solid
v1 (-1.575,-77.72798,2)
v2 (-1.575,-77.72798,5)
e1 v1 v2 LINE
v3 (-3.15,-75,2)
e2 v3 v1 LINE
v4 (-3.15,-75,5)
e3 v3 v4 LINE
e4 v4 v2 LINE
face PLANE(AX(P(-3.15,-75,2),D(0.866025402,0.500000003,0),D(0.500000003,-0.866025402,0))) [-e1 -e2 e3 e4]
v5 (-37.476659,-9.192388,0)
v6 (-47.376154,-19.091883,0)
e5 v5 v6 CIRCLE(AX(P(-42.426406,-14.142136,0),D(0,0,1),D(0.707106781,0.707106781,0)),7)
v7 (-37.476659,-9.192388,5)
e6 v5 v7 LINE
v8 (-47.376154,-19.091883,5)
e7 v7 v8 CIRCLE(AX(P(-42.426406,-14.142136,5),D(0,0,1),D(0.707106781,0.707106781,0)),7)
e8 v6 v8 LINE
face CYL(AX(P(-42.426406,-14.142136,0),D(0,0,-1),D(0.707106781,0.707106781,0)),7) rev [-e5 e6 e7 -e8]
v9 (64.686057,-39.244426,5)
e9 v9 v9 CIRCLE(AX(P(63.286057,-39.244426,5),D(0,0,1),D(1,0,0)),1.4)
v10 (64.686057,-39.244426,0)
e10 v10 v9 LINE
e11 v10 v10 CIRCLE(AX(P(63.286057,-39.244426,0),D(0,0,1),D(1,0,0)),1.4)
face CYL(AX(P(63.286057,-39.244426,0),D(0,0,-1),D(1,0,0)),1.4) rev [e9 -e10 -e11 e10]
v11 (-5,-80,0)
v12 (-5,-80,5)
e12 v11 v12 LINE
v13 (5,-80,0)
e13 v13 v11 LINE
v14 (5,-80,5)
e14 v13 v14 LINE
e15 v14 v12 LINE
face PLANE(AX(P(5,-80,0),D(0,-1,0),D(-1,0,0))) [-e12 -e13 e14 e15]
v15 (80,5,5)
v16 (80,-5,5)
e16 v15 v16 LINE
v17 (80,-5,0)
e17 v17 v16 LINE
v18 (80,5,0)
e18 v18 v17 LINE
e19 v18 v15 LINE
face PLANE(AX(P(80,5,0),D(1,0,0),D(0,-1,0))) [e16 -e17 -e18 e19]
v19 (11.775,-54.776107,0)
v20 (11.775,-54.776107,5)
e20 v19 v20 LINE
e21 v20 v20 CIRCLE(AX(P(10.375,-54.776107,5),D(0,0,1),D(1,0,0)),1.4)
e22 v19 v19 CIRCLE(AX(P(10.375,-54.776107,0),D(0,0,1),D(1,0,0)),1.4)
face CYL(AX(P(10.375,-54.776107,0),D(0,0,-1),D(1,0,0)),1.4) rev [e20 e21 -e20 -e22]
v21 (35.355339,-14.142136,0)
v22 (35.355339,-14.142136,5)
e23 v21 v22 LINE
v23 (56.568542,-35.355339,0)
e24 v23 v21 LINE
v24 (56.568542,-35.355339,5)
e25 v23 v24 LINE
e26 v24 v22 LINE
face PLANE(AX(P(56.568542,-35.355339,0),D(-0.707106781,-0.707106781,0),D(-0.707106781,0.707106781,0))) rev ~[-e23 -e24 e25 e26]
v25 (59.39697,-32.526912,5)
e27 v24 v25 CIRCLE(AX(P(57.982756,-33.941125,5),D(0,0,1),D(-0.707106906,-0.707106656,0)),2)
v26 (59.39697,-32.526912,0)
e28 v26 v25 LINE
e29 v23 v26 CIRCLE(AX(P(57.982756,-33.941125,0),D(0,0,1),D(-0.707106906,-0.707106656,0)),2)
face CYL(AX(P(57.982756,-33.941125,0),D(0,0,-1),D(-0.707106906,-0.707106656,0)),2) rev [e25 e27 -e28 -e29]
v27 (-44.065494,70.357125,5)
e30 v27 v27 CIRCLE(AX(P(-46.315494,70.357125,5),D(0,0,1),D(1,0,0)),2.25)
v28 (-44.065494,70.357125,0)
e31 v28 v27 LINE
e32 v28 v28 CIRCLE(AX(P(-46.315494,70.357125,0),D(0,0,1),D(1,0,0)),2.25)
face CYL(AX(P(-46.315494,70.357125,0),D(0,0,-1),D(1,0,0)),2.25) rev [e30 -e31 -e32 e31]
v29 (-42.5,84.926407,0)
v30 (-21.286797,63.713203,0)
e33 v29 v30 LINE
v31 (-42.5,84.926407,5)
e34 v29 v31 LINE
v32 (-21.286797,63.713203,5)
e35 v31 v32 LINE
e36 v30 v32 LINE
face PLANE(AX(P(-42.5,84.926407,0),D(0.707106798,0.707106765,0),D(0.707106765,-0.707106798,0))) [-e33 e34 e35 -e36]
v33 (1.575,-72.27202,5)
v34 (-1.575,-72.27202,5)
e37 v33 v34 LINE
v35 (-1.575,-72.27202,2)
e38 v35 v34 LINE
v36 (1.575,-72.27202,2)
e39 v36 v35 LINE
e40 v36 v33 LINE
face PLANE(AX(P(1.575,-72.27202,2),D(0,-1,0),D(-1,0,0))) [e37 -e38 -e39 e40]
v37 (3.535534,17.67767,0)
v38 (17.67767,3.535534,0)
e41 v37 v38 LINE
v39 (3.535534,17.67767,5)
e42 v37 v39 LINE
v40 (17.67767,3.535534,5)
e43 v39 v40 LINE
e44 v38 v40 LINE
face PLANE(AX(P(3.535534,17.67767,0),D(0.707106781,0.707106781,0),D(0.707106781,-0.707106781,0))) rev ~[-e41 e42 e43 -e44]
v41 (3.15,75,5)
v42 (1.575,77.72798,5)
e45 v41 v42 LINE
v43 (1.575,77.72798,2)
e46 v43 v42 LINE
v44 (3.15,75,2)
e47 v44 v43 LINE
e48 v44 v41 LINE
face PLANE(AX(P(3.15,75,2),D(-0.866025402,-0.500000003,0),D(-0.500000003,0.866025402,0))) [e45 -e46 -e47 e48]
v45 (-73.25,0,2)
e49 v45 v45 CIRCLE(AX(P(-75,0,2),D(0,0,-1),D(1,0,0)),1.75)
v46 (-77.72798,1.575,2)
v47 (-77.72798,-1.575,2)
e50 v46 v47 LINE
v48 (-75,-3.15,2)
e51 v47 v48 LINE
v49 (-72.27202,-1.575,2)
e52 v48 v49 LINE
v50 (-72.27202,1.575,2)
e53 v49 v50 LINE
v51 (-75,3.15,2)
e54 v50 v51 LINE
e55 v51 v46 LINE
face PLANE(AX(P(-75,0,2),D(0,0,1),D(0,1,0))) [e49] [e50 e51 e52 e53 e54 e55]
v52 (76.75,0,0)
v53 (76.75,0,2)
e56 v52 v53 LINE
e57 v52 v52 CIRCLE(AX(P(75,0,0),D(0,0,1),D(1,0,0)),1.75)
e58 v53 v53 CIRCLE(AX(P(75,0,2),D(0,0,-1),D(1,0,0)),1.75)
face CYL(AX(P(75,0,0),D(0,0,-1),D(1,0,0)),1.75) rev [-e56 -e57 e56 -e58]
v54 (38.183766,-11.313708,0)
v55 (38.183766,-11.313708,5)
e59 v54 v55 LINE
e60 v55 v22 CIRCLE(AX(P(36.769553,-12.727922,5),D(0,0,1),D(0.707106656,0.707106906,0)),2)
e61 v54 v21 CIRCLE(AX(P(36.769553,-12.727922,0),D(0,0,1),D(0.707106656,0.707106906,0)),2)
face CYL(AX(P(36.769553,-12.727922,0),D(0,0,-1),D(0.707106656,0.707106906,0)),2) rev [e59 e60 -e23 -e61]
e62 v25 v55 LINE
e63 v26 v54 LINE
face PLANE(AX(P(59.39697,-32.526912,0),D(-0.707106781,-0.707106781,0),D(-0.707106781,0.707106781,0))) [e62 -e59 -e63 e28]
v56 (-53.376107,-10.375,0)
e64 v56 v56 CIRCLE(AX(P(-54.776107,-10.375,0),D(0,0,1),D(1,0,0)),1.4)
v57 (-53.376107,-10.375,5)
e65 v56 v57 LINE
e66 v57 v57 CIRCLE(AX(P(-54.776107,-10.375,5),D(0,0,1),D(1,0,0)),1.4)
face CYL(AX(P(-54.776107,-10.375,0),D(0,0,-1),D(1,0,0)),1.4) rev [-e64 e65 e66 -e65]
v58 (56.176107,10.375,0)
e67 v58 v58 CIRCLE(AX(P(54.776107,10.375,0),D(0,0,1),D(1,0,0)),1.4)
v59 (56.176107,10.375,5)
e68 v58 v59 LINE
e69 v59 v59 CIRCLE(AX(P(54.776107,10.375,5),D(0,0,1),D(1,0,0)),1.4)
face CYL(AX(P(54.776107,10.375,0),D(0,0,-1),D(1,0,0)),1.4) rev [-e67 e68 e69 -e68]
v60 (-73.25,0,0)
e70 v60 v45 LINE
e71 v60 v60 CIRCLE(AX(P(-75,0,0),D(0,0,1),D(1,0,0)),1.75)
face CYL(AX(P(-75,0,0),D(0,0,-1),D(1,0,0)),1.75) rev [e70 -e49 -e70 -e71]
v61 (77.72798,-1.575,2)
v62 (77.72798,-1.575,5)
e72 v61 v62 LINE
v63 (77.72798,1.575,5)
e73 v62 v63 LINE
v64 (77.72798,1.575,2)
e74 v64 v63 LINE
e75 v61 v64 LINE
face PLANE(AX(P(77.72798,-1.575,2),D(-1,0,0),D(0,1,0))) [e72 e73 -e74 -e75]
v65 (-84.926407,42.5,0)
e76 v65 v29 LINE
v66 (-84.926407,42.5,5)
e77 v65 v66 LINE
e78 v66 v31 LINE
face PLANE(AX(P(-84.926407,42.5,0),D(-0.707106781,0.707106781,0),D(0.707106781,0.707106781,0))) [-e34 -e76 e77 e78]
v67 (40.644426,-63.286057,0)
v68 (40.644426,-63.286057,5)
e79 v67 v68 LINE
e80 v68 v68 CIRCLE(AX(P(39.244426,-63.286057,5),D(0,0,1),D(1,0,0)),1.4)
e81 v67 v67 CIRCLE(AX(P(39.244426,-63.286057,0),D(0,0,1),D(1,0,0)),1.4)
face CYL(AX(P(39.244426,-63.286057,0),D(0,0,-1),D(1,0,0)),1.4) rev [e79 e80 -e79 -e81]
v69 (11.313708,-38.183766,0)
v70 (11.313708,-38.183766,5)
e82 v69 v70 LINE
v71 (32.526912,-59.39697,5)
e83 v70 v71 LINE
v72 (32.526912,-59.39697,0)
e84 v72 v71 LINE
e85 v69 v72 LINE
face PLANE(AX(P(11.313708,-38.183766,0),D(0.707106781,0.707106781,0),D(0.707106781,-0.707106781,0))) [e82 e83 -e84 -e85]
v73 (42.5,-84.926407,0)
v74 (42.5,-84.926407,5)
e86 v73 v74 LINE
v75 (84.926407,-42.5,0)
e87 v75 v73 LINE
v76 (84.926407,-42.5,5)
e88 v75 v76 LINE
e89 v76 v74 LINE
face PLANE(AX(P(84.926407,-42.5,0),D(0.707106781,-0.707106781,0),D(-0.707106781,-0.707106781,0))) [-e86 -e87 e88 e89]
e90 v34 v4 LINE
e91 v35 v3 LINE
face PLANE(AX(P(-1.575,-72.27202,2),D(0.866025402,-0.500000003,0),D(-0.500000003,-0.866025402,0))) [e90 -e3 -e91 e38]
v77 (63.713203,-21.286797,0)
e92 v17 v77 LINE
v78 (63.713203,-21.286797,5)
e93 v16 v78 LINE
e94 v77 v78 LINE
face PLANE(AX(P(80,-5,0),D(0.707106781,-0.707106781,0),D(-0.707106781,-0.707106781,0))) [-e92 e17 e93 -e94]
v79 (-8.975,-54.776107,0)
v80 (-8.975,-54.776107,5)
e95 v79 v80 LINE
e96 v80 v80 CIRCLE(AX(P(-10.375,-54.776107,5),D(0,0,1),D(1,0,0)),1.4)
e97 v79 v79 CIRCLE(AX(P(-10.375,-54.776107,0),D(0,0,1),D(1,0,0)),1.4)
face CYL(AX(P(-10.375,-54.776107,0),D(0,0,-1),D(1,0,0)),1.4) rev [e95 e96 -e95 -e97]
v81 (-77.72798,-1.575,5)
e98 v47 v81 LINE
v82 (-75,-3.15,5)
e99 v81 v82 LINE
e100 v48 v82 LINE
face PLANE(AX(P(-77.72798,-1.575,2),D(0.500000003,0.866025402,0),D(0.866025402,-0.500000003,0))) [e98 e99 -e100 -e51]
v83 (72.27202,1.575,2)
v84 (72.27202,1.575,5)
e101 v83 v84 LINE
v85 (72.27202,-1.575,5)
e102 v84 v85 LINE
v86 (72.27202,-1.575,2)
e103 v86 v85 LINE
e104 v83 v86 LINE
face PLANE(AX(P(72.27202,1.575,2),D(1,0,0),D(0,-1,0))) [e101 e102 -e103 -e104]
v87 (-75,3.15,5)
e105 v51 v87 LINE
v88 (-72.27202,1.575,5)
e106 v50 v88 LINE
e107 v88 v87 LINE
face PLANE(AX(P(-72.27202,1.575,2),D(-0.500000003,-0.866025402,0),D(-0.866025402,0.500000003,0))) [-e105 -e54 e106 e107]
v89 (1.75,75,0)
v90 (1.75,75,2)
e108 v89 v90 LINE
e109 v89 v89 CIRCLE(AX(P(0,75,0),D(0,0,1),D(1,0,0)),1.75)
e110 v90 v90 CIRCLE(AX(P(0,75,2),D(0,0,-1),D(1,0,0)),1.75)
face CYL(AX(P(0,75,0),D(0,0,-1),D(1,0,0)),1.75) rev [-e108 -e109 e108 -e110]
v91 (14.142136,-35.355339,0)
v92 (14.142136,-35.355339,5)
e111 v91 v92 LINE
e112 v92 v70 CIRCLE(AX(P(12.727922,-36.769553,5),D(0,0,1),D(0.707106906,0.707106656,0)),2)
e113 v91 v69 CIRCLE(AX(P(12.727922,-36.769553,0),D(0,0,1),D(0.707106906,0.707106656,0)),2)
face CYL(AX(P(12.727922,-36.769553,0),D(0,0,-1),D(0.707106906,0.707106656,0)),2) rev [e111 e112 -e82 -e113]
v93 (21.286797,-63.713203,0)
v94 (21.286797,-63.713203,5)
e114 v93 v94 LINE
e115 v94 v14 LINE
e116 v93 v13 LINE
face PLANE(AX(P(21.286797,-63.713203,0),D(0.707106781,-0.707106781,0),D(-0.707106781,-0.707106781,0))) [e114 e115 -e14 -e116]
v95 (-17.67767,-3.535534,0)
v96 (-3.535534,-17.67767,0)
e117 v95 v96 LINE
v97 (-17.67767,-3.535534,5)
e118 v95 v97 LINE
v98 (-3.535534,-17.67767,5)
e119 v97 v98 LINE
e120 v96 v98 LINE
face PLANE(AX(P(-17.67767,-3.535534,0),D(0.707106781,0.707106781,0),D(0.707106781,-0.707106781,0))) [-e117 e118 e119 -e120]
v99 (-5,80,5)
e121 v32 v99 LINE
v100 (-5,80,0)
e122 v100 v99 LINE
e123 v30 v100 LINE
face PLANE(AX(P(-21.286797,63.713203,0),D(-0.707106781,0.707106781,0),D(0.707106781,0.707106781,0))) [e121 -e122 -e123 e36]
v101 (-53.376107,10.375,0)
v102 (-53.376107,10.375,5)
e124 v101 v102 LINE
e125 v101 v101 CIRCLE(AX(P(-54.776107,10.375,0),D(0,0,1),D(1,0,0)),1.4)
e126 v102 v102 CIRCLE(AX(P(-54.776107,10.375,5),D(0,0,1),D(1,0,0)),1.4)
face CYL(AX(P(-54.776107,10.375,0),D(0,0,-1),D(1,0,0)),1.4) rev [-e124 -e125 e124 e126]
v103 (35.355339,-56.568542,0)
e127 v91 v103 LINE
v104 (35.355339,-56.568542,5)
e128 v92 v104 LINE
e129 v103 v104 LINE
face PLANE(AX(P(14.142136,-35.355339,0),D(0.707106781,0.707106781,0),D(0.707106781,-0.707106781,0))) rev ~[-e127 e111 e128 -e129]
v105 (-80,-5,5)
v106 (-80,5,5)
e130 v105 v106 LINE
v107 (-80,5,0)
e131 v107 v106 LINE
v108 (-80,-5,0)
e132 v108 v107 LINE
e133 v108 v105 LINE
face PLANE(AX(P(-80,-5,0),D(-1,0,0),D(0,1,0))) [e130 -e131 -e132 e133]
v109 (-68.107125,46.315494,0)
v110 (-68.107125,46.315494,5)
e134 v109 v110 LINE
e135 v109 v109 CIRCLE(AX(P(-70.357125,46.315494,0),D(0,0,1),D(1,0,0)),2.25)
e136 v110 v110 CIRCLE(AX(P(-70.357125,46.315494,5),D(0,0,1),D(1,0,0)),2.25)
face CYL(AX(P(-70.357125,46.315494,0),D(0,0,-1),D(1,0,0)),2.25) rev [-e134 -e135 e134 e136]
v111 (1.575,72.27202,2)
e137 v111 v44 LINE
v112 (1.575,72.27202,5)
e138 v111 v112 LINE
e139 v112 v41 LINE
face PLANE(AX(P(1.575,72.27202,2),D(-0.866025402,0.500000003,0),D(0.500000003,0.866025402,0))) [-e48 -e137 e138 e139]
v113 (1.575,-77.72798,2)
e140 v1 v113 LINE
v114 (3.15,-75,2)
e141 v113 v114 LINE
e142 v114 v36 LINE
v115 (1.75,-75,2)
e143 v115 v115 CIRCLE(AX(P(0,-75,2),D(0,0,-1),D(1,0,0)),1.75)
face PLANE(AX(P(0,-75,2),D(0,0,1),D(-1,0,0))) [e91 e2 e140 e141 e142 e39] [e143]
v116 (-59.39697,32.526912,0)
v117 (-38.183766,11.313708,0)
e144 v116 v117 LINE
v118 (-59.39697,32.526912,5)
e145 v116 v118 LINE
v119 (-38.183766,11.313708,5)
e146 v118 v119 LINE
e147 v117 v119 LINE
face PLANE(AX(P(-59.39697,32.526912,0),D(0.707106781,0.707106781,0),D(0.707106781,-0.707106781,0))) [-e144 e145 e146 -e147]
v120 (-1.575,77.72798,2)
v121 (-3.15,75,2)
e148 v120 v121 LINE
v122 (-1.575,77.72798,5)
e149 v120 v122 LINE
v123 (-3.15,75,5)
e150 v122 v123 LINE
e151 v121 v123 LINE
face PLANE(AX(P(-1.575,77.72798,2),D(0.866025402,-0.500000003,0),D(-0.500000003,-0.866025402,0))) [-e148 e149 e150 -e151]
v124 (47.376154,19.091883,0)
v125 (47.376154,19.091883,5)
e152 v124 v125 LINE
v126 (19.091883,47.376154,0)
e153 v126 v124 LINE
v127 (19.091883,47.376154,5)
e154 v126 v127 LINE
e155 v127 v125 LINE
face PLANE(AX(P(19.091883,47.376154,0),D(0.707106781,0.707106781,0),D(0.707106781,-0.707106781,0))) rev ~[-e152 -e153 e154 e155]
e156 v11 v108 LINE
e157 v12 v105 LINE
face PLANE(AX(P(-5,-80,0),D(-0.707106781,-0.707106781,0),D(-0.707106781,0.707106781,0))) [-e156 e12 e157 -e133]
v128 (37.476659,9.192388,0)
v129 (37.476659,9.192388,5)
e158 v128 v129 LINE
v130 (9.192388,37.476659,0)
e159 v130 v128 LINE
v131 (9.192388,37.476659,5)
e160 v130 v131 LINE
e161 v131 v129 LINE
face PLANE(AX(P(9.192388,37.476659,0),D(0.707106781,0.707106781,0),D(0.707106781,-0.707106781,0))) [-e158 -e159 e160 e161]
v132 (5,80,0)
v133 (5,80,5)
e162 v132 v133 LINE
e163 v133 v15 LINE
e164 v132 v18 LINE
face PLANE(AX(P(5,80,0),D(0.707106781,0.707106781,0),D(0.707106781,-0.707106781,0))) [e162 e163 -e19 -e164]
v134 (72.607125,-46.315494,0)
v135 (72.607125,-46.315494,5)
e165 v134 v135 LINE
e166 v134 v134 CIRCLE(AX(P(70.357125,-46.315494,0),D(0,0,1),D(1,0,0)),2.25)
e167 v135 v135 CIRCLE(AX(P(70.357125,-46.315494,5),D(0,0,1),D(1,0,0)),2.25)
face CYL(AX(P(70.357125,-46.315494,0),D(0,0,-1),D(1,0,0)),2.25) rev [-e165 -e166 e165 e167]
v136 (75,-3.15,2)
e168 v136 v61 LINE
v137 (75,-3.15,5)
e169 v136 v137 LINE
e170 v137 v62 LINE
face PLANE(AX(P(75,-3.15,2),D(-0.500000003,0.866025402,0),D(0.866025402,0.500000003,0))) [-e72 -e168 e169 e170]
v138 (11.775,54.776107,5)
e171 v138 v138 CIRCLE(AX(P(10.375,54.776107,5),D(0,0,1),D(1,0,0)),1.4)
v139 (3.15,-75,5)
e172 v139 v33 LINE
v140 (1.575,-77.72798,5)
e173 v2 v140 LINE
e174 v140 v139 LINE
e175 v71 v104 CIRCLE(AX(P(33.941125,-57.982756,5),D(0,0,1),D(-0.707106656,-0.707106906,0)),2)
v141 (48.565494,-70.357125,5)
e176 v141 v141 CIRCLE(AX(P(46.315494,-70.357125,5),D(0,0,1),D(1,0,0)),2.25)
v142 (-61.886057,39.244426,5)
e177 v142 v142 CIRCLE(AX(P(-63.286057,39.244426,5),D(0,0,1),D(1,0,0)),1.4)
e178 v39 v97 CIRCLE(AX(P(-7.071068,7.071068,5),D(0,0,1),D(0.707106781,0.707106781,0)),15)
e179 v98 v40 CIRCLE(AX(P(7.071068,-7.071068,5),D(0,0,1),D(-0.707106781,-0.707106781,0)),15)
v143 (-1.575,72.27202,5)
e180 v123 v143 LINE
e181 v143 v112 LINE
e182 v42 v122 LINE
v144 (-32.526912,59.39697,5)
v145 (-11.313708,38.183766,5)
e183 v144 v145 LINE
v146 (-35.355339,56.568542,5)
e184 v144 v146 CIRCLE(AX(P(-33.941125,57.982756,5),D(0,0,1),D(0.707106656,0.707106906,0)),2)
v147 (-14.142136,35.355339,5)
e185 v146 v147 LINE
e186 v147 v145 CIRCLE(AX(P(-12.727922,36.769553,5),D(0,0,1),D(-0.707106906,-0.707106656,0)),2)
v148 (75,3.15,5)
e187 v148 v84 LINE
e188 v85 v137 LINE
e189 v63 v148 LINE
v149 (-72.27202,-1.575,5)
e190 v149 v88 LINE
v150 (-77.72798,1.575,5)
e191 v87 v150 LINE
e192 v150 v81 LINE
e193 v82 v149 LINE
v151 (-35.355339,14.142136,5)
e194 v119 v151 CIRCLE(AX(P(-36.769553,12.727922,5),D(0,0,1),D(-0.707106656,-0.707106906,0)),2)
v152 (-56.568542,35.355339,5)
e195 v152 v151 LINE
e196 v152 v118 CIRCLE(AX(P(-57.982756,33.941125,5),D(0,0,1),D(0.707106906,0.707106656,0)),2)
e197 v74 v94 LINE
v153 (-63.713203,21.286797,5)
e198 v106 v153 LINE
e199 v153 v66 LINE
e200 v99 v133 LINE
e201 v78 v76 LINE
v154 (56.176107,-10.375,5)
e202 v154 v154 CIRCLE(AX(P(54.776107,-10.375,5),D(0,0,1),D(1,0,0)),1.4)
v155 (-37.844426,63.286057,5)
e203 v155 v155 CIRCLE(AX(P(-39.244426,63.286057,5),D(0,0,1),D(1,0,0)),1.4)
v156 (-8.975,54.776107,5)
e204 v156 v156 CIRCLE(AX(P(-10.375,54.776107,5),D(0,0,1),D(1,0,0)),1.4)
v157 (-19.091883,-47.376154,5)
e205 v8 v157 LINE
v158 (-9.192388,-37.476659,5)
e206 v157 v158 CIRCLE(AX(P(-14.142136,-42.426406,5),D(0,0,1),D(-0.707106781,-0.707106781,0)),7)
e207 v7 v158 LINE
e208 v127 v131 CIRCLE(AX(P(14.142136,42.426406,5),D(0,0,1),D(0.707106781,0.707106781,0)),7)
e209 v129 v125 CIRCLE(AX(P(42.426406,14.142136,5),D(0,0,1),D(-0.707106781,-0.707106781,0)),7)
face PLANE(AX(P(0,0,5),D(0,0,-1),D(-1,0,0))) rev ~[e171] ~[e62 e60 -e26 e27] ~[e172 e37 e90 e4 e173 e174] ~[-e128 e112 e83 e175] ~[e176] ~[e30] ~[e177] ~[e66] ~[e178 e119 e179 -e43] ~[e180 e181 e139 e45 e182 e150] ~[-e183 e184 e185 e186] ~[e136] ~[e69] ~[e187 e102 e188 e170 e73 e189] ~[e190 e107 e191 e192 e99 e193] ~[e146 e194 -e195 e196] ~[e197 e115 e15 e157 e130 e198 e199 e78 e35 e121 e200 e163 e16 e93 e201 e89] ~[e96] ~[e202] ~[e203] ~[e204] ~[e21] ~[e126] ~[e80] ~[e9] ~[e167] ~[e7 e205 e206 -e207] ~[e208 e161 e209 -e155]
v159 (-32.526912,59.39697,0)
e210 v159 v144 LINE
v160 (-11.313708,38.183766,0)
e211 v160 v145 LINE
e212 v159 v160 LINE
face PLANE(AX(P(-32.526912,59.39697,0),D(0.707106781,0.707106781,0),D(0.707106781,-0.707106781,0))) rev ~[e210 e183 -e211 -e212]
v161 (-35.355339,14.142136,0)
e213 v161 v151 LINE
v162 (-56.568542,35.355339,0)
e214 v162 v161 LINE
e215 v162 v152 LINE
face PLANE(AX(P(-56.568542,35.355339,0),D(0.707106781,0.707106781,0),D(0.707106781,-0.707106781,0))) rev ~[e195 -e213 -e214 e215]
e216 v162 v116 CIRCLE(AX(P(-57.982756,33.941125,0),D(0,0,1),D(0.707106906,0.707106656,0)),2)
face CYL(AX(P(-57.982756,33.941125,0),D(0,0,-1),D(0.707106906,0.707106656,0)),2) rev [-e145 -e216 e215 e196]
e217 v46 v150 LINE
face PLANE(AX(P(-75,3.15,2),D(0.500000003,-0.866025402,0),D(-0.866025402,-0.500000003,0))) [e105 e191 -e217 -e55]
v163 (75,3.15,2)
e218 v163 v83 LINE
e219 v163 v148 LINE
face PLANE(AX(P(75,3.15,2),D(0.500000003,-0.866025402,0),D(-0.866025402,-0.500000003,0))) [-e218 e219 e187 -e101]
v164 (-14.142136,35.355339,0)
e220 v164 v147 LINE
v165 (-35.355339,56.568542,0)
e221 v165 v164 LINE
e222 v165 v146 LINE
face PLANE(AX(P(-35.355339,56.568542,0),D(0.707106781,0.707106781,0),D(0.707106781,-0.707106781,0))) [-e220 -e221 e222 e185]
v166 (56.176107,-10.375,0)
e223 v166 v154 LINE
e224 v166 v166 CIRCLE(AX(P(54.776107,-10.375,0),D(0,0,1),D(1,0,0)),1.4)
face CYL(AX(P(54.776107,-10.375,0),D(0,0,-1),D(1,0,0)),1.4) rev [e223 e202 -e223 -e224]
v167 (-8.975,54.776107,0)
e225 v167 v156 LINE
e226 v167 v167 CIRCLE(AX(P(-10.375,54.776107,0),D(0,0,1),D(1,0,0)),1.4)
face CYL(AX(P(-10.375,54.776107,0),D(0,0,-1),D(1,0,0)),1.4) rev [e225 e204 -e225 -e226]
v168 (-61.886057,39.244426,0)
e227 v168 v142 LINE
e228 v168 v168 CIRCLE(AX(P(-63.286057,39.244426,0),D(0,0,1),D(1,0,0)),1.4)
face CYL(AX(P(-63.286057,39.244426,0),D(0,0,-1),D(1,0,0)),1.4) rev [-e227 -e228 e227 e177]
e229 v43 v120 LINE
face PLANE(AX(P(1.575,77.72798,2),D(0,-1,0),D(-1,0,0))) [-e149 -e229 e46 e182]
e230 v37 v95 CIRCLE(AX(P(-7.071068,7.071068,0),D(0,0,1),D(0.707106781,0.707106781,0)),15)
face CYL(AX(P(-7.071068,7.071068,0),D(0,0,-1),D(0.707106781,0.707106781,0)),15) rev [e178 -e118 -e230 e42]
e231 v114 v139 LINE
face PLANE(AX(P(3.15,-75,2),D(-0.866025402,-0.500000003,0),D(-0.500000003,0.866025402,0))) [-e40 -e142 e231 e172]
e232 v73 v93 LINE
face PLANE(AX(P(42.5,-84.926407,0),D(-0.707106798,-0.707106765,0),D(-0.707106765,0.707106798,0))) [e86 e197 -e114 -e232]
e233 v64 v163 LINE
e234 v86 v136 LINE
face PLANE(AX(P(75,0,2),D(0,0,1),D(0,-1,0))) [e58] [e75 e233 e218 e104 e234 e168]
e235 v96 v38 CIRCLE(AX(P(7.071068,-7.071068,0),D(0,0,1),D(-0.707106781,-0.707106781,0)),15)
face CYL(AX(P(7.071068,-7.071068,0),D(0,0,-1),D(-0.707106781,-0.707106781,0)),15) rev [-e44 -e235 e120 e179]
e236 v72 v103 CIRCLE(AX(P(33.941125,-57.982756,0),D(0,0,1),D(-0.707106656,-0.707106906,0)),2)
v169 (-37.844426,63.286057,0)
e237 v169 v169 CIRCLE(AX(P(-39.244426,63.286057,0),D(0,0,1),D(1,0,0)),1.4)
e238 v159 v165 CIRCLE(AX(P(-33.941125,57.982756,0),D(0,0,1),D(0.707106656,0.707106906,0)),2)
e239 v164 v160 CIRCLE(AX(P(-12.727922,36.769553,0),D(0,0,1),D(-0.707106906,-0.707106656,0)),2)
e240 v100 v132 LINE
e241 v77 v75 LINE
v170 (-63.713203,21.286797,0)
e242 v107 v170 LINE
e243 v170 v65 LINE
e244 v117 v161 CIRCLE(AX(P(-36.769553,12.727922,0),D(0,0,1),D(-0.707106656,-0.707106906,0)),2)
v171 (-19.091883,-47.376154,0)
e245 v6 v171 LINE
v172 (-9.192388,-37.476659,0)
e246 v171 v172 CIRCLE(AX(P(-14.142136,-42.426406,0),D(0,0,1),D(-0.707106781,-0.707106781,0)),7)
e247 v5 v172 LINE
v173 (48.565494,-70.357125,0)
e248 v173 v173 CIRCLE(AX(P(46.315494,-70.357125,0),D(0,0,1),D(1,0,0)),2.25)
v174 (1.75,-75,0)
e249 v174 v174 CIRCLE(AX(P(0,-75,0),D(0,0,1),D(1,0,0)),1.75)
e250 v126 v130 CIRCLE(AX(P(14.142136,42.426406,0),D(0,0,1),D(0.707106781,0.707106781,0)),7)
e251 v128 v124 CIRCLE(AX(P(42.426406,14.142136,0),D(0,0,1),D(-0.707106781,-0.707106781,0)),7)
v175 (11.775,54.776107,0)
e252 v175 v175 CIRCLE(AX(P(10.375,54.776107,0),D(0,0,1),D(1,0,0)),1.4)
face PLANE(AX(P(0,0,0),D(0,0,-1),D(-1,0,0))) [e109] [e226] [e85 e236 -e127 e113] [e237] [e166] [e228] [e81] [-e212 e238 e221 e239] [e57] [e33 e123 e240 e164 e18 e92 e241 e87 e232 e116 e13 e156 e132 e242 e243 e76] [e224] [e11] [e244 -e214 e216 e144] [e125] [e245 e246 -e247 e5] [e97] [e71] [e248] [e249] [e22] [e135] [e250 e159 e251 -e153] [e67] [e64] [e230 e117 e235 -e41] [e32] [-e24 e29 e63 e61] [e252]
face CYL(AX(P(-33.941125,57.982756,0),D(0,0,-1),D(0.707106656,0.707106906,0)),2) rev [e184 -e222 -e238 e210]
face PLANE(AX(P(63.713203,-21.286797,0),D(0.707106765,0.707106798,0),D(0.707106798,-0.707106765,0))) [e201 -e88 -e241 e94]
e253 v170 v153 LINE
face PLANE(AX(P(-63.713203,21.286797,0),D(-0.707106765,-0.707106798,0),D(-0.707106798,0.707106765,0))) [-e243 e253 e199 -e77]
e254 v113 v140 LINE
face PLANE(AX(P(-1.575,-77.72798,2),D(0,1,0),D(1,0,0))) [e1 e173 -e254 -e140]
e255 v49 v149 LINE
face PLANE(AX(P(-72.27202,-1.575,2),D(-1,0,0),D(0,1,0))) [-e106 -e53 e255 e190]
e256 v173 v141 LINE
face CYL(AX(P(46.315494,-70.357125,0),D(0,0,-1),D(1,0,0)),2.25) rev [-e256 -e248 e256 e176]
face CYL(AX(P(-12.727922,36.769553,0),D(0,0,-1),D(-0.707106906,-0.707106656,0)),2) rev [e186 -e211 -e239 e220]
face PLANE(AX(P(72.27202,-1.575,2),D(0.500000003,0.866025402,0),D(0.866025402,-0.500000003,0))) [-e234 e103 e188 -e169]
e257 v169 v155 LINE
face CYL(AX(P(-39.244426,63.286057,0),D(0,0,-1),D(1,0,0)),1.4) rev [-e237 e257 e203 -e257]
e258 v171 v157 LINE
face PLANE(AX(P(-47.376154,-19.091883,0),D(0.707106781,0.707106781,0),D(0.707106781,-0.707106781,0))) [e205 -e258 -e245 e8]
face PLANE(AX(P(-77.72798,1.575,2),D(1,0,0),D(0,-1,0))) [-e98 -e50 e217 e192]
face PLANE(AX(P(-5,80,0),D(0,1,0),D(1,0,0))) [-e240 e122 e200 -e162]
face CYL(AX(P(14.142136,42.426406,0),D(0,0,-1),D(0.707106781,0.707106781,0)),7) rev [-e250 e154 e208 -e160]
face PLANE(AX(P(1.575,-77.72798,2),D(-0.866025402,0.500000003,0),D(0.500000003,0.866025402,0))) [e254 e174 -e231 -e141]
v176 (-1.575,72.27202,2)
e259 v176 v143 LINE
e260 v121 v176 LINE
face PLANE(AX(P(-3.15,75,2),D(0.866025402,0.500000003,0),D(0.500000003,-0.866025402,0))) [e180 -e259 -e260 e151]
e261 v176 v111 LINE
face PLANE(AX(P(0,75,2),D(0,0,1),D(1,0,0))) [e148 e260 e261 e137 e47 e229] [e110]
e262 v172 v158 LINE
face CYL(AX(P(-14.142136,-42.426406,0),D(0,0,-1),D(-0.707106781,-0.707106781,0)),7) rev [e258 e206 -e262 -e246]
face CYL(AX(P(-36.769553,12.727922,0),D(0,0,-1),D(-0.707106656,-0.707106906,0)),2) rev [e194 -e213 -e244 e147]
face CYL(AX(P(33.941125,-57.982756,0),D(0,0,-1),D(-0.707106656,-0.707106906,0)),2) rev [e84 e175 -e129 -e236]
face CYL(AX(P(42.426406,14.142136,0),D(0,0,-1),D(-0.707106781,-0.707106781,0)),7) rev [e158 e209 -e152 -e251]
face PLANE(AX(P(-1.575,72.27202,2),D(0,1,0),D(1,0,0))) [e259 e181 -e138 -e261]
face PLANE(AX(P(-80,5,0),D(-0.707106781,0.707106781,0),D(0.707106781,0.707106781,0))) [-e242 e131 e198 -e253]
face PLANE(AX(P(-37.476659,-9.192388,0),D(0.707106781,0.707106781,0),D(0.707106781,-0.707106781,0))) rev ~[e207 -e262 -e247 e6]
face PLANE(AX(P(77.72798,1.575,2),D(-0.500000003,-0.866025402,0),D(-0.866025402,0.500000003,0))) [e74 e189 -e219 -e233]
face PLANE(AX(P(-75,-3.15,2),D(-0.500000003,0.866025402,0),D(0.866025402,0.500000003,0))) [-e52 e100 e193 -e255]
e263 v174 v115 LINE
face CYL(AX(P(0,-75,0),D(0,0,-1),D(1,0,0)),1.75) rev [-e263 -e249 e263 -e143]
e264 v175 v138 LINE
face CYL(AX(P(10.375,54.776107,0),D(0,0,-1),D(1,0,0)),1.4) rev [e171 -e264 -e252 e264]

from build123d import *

# Parameters (mm, degrees)
EXTRUDE002_DEPTH           = 4
EXTRUDE002_PLACEMENT_ANGLE = 180
EXTRUDE003_DEPTH           = 4
EXTRUDE003_PLACEMENT_ANGLE = 90
EXTRUDE004_DEPTH           = 4
EXTRUDE004_PLACEMENT_ANGLE = -90
EXTRUDE001_DEPTH           = 4
SKETCH_R                   = 1.75
SKETCH_R_2                 = 1.4
SKETCH_R_3                 = 2.25
EXTRUDE_DEPTH              = 5


with BuildPart() as extrude002:
    # Sketch001 → Extrude002 (new body)
    with BuildSketch(Plane.XY):
        Polygon((1.575, -7.72798), (3.15, -5), (1.575, -2.27202), (-1.575, -2.27202), (-3.15, -5), (-1.575, -7.72798), align=None)
    extrude(amount=EXTRUDE002_DEPTH)


with BuildPart() as extrude002_1:
    # Extrude002 placement: moved
    add(extrude002.part.moved(Location((0, -80, 2))).rotate(Axis((0, -80, 2), (0, 0, 1)), EXTRUDE002_PLACEMENT_ANGLE))


with BuildPart() as extrude003:
    # Sketch001 → Extrude003 (new body)
    with BuildSketch(Plane.XY):
        Polygon((1.575, -7.72798), (3.15, -5), (1.575, -2.27202), (-1.575, -2.27202), (-3.15, -5), (-1.575, -7.72798), align=None)
    extrude(amount=EXTRUDE003_DEPTH)


with BuildPart() as extrude003_1:
    # Extrude003 placement: moved
    add(extrude003.part.moved(Location((-80, 0, 2))).rotate(Axis((-80, 0, 2), (0, 0, 1)), EXTRUDE003_PLACEMENT_ANGLE))


with BuildPart() as extrude004:
    # Sketch001 → Extrude004 (new body)
    with BuildSketch(Plane.XY):
        Polygon((1.575, -7.72798), (3.15, -5), (1.575, -2.27202), (-1.575, -2.27202), (-3.15, -5), (-1.575, -7.72798), align=None)
    extrude(amount=EXTRUDE004_DEPTH)


with BuildPart() as extrude004_1:
    # Extrude004 placement: moved
    add(extrude004.part.moved(Location((80, 0, 2))).rotate(Axis((80, 0, 2), (0, 0, 1)), EXTRUDE004_PLACEMENT_ANGLE))


with BuildPart() as fusionhexnuts:
    # Sketch001 → Extrude001 (new body)
    with BuildSketch(Plane.XY):
        Polygon((1.575, -7.72798), (3.15, -5), (1.575, -2.27202), (-1.575, -2.27202), (-3.15, -5), (-1.575, -7.72798), align=None)
    extrude(amount=EXTRUDE001_DEPTH)


with BuildPart() as fusionhexnuts_1:
    # Extrude001 placement: moved
    add(fusionhexnuts.part.moved(Location((0, 80, 2))))

    # Fusion: union Extrude002, Extrude003, Extrude004
    add(extrude002_1.part)
    add(extrude003_1.part)
    add(extrude004_1.part)


with BuildPart() as cut:
    # Sketch → Extrude (new body)
    with BuildSketch(Plane.XY):
        Polygon((-5, 80), (5, 80), (80, 5), (80, -5), (63.713203, -21.286797), (84.926407, -42.5), (42.5, -84.926407), (21.286797, -63.713203), (5, -80), (-5, -80), (-80, -5), (-80, 5), (-63.713203, 21.286797), (-84.926407, 42.5), (-42.5, 84.926407), (-21.286797, 63.713203), align=None)
        with Locations((0, 75)):
            Circle(SKETCH_R, mode=Mode.SUBTRACT)
        with Locations((-75, 0)):
            Circle(SKETCH_R, mode=Mode.SUBTRACT)
        with Locations((75, 0)):
            Circle(SKETCH_R, mode=Mode.SUBTRACT)
        with Locations((0, -75)):
            Circle(SKETCH_R, mode=Mode.SUBTRACT)
        with Locations((-54.776107, 10.375)):
            Circle(SKETCH_R_2, mode=Mode.SUBTRACT)
        with Locations((-54.776107, -10.375)):
            Circle(SKETCH_R_2, mode=Mode.SUBTRACT)
        with Locations((-10.375, 54.776107)):
            Circle(SKETCH_R_2, mode=Mode.SUBTRACT)
        with Locations((10.375, 54.776107)):
            Circle(SKETCH_R_2, mode=Mode.SUBTRACT)
        with Locations((54.776107, 10.375)):
            Circle(SKETCH_R_2, mode=Mode.SUBTRACT)
        with Locations((54.776107, -10.375)):
            Circle(SKETCH_R_2, mode=Mode.SUBTRACT)
        with Locations((-10.375, -54.776107)):
            Circle(SKETCH_R_2, mode=Mode.SUBTRACT)
        with Locations((10.375, -54.776107)):
            Circle(SKETCH_R_2, mode=Mode.SUBTRACT)
        with Locations((39.244426, -63.286057)):
            Circle(SKETCH_R_2, mode=Mode.SUBTRACT)
        with Locations((63.286057, -39.244426)):
            Circle(SKETCH_R_2, mode=Mode.SUBTRACT)
        with Locations((-63.286057, 39.244426)):
            Circle(SKETCH_R_2, mode=Mode.SUBTRACT)
        with Locations((-39.244426, 63.286057)):
            Circle(SKETCH_R_2, mode=Mode.SUBTRACT)
        with Locations((-70.357125, 46.315494)):
            Circle(SKETCH_R_3, mode=Mode.SUBTRACT)
        with Locations((-46.315494, 70.357125)):
            Circle(SKETCH_R_3, mode=Mode.SUBTRACT)
        with Locations((46.315494, -70.357125)):
            Circle(SKETCH_R_3, mode=Mode.SUBTRACT)
        with Locations((70.357125, -46.315494)):
            Circle(SKETCH_R_3, mode=Mode.SUBTRACT)
        with BuildLine():
            ThreePointArc((-37.476659, -9.192388), (-47.376154, -9.192388), (-47.376154, -19.091883))
            Line((-47.376154, -19.091883), (-19.091883, -47.376154))
            ThreePointArc((-19.091883, -47.376154), (-9.192388, -47.376154), (-9.192388, -37.476659))
            Line((-37.476659, -9.192388), (-9.192388, -37.476659))
        make_face(mode=Mode.SUBTRACT)
        with BuildLine():
            ThreePointArc((19.091883, 47.376154), (9.192388, 47.376154), (9.192388, 37.476659))
            Line((9.192388, 37.476659), (37.476659, 9.192388))
            ThreePointArc((37.476659, 9.192388), (47.376154, 9.192388), (47.376154, 19.091883))
            Line((19.091883, 47.376154), (47.376154, 19.091883))
        make_face(mode=Mode.SUBTRACT)
        with BuildLine():
            ThreePointArc((-56.568542, 35.355339), (-59.39697, 35.355339), (-59.39697, 32.526912))
            Line((-59.39697, 32.526912), (-38.183766, 11.313708))
            ThreePointArc((-38.183766, 11.313708), (-35.355339, 11.313708), (-35.355339, 14.142136))
            Line((-56.568542, 35.355339), (-35.355339, 14.142136))
        make_face(mode=Mode.SUBTRACT)
        with BuildLine():
            ThreePointArc((-32.526912, 59.39697), (-35.355339, 59.39697), (-35.355339, 56.568542))
            Line((-35.355339, 56.568542), (-14.142136, 35.355339))
            ThreePointArc((-14.142136, 35.355339), (-11.313708, 35.355339), (-11.313708, 38.183766))
            Line((-32.526912, 59.39697), (-11.313708, 38.183766))
        make_face(mode=Mode.SUBTRACT)
        with BuildLine():
            ThreePointArc((14.142136, -35.355339), (11.313708, -35.355339), (11.313708, -38.183766))
            Line((11.313708, -38.183766), (32.526912, -59.39697))
            ThreePointArc((32.526912, -59.39697), (35.355339, -59.39697), (35.355339, -56.568542))
            Line((14.142136, -35.355339), (35.355339, -56.568542))
        make_face(mode=Mode.SUBTRACT)
        with BuildLine():
            ThreePointArc((56.568542, -35.355339), (59.39697, -35.355339), (59.39697, -32.526912))
            Line((59.39697, -32.526912), (38.183766, -11.313708))
            ThreePointArc((38.183766, -11.313708), (35.355339, -11.313708), (35.355339, -14.142136))
            Line((56.568542, -35.355339), (35.355339, -14.142136))
        make_face(mode=Mode.SUBTRACT)
        with BuildLine():
            ThreePointArc((3.535534, 17.67767), (-17.67767, 17.67767), (-17.67767, -3.535534))
            Line((-17.67767, -3.535534), (-3.535534, -17.67767))
            ThreePointArc((-3.535534, -17.67767), (17.67767, -17.67767), (17.67767, 3.535534))
            Line((3.535534, 17.67767), (17.67767, 3.535534))
        make_face(mode=Mode.SUBTRACT)
    extrude(amount=EXTRUDE_DEPTH)

    # Cut: cut FusionHexNuts
    add(fusionhexnuts_1.part, mode=Mode.SUBTRACT)


solid = cut.part
